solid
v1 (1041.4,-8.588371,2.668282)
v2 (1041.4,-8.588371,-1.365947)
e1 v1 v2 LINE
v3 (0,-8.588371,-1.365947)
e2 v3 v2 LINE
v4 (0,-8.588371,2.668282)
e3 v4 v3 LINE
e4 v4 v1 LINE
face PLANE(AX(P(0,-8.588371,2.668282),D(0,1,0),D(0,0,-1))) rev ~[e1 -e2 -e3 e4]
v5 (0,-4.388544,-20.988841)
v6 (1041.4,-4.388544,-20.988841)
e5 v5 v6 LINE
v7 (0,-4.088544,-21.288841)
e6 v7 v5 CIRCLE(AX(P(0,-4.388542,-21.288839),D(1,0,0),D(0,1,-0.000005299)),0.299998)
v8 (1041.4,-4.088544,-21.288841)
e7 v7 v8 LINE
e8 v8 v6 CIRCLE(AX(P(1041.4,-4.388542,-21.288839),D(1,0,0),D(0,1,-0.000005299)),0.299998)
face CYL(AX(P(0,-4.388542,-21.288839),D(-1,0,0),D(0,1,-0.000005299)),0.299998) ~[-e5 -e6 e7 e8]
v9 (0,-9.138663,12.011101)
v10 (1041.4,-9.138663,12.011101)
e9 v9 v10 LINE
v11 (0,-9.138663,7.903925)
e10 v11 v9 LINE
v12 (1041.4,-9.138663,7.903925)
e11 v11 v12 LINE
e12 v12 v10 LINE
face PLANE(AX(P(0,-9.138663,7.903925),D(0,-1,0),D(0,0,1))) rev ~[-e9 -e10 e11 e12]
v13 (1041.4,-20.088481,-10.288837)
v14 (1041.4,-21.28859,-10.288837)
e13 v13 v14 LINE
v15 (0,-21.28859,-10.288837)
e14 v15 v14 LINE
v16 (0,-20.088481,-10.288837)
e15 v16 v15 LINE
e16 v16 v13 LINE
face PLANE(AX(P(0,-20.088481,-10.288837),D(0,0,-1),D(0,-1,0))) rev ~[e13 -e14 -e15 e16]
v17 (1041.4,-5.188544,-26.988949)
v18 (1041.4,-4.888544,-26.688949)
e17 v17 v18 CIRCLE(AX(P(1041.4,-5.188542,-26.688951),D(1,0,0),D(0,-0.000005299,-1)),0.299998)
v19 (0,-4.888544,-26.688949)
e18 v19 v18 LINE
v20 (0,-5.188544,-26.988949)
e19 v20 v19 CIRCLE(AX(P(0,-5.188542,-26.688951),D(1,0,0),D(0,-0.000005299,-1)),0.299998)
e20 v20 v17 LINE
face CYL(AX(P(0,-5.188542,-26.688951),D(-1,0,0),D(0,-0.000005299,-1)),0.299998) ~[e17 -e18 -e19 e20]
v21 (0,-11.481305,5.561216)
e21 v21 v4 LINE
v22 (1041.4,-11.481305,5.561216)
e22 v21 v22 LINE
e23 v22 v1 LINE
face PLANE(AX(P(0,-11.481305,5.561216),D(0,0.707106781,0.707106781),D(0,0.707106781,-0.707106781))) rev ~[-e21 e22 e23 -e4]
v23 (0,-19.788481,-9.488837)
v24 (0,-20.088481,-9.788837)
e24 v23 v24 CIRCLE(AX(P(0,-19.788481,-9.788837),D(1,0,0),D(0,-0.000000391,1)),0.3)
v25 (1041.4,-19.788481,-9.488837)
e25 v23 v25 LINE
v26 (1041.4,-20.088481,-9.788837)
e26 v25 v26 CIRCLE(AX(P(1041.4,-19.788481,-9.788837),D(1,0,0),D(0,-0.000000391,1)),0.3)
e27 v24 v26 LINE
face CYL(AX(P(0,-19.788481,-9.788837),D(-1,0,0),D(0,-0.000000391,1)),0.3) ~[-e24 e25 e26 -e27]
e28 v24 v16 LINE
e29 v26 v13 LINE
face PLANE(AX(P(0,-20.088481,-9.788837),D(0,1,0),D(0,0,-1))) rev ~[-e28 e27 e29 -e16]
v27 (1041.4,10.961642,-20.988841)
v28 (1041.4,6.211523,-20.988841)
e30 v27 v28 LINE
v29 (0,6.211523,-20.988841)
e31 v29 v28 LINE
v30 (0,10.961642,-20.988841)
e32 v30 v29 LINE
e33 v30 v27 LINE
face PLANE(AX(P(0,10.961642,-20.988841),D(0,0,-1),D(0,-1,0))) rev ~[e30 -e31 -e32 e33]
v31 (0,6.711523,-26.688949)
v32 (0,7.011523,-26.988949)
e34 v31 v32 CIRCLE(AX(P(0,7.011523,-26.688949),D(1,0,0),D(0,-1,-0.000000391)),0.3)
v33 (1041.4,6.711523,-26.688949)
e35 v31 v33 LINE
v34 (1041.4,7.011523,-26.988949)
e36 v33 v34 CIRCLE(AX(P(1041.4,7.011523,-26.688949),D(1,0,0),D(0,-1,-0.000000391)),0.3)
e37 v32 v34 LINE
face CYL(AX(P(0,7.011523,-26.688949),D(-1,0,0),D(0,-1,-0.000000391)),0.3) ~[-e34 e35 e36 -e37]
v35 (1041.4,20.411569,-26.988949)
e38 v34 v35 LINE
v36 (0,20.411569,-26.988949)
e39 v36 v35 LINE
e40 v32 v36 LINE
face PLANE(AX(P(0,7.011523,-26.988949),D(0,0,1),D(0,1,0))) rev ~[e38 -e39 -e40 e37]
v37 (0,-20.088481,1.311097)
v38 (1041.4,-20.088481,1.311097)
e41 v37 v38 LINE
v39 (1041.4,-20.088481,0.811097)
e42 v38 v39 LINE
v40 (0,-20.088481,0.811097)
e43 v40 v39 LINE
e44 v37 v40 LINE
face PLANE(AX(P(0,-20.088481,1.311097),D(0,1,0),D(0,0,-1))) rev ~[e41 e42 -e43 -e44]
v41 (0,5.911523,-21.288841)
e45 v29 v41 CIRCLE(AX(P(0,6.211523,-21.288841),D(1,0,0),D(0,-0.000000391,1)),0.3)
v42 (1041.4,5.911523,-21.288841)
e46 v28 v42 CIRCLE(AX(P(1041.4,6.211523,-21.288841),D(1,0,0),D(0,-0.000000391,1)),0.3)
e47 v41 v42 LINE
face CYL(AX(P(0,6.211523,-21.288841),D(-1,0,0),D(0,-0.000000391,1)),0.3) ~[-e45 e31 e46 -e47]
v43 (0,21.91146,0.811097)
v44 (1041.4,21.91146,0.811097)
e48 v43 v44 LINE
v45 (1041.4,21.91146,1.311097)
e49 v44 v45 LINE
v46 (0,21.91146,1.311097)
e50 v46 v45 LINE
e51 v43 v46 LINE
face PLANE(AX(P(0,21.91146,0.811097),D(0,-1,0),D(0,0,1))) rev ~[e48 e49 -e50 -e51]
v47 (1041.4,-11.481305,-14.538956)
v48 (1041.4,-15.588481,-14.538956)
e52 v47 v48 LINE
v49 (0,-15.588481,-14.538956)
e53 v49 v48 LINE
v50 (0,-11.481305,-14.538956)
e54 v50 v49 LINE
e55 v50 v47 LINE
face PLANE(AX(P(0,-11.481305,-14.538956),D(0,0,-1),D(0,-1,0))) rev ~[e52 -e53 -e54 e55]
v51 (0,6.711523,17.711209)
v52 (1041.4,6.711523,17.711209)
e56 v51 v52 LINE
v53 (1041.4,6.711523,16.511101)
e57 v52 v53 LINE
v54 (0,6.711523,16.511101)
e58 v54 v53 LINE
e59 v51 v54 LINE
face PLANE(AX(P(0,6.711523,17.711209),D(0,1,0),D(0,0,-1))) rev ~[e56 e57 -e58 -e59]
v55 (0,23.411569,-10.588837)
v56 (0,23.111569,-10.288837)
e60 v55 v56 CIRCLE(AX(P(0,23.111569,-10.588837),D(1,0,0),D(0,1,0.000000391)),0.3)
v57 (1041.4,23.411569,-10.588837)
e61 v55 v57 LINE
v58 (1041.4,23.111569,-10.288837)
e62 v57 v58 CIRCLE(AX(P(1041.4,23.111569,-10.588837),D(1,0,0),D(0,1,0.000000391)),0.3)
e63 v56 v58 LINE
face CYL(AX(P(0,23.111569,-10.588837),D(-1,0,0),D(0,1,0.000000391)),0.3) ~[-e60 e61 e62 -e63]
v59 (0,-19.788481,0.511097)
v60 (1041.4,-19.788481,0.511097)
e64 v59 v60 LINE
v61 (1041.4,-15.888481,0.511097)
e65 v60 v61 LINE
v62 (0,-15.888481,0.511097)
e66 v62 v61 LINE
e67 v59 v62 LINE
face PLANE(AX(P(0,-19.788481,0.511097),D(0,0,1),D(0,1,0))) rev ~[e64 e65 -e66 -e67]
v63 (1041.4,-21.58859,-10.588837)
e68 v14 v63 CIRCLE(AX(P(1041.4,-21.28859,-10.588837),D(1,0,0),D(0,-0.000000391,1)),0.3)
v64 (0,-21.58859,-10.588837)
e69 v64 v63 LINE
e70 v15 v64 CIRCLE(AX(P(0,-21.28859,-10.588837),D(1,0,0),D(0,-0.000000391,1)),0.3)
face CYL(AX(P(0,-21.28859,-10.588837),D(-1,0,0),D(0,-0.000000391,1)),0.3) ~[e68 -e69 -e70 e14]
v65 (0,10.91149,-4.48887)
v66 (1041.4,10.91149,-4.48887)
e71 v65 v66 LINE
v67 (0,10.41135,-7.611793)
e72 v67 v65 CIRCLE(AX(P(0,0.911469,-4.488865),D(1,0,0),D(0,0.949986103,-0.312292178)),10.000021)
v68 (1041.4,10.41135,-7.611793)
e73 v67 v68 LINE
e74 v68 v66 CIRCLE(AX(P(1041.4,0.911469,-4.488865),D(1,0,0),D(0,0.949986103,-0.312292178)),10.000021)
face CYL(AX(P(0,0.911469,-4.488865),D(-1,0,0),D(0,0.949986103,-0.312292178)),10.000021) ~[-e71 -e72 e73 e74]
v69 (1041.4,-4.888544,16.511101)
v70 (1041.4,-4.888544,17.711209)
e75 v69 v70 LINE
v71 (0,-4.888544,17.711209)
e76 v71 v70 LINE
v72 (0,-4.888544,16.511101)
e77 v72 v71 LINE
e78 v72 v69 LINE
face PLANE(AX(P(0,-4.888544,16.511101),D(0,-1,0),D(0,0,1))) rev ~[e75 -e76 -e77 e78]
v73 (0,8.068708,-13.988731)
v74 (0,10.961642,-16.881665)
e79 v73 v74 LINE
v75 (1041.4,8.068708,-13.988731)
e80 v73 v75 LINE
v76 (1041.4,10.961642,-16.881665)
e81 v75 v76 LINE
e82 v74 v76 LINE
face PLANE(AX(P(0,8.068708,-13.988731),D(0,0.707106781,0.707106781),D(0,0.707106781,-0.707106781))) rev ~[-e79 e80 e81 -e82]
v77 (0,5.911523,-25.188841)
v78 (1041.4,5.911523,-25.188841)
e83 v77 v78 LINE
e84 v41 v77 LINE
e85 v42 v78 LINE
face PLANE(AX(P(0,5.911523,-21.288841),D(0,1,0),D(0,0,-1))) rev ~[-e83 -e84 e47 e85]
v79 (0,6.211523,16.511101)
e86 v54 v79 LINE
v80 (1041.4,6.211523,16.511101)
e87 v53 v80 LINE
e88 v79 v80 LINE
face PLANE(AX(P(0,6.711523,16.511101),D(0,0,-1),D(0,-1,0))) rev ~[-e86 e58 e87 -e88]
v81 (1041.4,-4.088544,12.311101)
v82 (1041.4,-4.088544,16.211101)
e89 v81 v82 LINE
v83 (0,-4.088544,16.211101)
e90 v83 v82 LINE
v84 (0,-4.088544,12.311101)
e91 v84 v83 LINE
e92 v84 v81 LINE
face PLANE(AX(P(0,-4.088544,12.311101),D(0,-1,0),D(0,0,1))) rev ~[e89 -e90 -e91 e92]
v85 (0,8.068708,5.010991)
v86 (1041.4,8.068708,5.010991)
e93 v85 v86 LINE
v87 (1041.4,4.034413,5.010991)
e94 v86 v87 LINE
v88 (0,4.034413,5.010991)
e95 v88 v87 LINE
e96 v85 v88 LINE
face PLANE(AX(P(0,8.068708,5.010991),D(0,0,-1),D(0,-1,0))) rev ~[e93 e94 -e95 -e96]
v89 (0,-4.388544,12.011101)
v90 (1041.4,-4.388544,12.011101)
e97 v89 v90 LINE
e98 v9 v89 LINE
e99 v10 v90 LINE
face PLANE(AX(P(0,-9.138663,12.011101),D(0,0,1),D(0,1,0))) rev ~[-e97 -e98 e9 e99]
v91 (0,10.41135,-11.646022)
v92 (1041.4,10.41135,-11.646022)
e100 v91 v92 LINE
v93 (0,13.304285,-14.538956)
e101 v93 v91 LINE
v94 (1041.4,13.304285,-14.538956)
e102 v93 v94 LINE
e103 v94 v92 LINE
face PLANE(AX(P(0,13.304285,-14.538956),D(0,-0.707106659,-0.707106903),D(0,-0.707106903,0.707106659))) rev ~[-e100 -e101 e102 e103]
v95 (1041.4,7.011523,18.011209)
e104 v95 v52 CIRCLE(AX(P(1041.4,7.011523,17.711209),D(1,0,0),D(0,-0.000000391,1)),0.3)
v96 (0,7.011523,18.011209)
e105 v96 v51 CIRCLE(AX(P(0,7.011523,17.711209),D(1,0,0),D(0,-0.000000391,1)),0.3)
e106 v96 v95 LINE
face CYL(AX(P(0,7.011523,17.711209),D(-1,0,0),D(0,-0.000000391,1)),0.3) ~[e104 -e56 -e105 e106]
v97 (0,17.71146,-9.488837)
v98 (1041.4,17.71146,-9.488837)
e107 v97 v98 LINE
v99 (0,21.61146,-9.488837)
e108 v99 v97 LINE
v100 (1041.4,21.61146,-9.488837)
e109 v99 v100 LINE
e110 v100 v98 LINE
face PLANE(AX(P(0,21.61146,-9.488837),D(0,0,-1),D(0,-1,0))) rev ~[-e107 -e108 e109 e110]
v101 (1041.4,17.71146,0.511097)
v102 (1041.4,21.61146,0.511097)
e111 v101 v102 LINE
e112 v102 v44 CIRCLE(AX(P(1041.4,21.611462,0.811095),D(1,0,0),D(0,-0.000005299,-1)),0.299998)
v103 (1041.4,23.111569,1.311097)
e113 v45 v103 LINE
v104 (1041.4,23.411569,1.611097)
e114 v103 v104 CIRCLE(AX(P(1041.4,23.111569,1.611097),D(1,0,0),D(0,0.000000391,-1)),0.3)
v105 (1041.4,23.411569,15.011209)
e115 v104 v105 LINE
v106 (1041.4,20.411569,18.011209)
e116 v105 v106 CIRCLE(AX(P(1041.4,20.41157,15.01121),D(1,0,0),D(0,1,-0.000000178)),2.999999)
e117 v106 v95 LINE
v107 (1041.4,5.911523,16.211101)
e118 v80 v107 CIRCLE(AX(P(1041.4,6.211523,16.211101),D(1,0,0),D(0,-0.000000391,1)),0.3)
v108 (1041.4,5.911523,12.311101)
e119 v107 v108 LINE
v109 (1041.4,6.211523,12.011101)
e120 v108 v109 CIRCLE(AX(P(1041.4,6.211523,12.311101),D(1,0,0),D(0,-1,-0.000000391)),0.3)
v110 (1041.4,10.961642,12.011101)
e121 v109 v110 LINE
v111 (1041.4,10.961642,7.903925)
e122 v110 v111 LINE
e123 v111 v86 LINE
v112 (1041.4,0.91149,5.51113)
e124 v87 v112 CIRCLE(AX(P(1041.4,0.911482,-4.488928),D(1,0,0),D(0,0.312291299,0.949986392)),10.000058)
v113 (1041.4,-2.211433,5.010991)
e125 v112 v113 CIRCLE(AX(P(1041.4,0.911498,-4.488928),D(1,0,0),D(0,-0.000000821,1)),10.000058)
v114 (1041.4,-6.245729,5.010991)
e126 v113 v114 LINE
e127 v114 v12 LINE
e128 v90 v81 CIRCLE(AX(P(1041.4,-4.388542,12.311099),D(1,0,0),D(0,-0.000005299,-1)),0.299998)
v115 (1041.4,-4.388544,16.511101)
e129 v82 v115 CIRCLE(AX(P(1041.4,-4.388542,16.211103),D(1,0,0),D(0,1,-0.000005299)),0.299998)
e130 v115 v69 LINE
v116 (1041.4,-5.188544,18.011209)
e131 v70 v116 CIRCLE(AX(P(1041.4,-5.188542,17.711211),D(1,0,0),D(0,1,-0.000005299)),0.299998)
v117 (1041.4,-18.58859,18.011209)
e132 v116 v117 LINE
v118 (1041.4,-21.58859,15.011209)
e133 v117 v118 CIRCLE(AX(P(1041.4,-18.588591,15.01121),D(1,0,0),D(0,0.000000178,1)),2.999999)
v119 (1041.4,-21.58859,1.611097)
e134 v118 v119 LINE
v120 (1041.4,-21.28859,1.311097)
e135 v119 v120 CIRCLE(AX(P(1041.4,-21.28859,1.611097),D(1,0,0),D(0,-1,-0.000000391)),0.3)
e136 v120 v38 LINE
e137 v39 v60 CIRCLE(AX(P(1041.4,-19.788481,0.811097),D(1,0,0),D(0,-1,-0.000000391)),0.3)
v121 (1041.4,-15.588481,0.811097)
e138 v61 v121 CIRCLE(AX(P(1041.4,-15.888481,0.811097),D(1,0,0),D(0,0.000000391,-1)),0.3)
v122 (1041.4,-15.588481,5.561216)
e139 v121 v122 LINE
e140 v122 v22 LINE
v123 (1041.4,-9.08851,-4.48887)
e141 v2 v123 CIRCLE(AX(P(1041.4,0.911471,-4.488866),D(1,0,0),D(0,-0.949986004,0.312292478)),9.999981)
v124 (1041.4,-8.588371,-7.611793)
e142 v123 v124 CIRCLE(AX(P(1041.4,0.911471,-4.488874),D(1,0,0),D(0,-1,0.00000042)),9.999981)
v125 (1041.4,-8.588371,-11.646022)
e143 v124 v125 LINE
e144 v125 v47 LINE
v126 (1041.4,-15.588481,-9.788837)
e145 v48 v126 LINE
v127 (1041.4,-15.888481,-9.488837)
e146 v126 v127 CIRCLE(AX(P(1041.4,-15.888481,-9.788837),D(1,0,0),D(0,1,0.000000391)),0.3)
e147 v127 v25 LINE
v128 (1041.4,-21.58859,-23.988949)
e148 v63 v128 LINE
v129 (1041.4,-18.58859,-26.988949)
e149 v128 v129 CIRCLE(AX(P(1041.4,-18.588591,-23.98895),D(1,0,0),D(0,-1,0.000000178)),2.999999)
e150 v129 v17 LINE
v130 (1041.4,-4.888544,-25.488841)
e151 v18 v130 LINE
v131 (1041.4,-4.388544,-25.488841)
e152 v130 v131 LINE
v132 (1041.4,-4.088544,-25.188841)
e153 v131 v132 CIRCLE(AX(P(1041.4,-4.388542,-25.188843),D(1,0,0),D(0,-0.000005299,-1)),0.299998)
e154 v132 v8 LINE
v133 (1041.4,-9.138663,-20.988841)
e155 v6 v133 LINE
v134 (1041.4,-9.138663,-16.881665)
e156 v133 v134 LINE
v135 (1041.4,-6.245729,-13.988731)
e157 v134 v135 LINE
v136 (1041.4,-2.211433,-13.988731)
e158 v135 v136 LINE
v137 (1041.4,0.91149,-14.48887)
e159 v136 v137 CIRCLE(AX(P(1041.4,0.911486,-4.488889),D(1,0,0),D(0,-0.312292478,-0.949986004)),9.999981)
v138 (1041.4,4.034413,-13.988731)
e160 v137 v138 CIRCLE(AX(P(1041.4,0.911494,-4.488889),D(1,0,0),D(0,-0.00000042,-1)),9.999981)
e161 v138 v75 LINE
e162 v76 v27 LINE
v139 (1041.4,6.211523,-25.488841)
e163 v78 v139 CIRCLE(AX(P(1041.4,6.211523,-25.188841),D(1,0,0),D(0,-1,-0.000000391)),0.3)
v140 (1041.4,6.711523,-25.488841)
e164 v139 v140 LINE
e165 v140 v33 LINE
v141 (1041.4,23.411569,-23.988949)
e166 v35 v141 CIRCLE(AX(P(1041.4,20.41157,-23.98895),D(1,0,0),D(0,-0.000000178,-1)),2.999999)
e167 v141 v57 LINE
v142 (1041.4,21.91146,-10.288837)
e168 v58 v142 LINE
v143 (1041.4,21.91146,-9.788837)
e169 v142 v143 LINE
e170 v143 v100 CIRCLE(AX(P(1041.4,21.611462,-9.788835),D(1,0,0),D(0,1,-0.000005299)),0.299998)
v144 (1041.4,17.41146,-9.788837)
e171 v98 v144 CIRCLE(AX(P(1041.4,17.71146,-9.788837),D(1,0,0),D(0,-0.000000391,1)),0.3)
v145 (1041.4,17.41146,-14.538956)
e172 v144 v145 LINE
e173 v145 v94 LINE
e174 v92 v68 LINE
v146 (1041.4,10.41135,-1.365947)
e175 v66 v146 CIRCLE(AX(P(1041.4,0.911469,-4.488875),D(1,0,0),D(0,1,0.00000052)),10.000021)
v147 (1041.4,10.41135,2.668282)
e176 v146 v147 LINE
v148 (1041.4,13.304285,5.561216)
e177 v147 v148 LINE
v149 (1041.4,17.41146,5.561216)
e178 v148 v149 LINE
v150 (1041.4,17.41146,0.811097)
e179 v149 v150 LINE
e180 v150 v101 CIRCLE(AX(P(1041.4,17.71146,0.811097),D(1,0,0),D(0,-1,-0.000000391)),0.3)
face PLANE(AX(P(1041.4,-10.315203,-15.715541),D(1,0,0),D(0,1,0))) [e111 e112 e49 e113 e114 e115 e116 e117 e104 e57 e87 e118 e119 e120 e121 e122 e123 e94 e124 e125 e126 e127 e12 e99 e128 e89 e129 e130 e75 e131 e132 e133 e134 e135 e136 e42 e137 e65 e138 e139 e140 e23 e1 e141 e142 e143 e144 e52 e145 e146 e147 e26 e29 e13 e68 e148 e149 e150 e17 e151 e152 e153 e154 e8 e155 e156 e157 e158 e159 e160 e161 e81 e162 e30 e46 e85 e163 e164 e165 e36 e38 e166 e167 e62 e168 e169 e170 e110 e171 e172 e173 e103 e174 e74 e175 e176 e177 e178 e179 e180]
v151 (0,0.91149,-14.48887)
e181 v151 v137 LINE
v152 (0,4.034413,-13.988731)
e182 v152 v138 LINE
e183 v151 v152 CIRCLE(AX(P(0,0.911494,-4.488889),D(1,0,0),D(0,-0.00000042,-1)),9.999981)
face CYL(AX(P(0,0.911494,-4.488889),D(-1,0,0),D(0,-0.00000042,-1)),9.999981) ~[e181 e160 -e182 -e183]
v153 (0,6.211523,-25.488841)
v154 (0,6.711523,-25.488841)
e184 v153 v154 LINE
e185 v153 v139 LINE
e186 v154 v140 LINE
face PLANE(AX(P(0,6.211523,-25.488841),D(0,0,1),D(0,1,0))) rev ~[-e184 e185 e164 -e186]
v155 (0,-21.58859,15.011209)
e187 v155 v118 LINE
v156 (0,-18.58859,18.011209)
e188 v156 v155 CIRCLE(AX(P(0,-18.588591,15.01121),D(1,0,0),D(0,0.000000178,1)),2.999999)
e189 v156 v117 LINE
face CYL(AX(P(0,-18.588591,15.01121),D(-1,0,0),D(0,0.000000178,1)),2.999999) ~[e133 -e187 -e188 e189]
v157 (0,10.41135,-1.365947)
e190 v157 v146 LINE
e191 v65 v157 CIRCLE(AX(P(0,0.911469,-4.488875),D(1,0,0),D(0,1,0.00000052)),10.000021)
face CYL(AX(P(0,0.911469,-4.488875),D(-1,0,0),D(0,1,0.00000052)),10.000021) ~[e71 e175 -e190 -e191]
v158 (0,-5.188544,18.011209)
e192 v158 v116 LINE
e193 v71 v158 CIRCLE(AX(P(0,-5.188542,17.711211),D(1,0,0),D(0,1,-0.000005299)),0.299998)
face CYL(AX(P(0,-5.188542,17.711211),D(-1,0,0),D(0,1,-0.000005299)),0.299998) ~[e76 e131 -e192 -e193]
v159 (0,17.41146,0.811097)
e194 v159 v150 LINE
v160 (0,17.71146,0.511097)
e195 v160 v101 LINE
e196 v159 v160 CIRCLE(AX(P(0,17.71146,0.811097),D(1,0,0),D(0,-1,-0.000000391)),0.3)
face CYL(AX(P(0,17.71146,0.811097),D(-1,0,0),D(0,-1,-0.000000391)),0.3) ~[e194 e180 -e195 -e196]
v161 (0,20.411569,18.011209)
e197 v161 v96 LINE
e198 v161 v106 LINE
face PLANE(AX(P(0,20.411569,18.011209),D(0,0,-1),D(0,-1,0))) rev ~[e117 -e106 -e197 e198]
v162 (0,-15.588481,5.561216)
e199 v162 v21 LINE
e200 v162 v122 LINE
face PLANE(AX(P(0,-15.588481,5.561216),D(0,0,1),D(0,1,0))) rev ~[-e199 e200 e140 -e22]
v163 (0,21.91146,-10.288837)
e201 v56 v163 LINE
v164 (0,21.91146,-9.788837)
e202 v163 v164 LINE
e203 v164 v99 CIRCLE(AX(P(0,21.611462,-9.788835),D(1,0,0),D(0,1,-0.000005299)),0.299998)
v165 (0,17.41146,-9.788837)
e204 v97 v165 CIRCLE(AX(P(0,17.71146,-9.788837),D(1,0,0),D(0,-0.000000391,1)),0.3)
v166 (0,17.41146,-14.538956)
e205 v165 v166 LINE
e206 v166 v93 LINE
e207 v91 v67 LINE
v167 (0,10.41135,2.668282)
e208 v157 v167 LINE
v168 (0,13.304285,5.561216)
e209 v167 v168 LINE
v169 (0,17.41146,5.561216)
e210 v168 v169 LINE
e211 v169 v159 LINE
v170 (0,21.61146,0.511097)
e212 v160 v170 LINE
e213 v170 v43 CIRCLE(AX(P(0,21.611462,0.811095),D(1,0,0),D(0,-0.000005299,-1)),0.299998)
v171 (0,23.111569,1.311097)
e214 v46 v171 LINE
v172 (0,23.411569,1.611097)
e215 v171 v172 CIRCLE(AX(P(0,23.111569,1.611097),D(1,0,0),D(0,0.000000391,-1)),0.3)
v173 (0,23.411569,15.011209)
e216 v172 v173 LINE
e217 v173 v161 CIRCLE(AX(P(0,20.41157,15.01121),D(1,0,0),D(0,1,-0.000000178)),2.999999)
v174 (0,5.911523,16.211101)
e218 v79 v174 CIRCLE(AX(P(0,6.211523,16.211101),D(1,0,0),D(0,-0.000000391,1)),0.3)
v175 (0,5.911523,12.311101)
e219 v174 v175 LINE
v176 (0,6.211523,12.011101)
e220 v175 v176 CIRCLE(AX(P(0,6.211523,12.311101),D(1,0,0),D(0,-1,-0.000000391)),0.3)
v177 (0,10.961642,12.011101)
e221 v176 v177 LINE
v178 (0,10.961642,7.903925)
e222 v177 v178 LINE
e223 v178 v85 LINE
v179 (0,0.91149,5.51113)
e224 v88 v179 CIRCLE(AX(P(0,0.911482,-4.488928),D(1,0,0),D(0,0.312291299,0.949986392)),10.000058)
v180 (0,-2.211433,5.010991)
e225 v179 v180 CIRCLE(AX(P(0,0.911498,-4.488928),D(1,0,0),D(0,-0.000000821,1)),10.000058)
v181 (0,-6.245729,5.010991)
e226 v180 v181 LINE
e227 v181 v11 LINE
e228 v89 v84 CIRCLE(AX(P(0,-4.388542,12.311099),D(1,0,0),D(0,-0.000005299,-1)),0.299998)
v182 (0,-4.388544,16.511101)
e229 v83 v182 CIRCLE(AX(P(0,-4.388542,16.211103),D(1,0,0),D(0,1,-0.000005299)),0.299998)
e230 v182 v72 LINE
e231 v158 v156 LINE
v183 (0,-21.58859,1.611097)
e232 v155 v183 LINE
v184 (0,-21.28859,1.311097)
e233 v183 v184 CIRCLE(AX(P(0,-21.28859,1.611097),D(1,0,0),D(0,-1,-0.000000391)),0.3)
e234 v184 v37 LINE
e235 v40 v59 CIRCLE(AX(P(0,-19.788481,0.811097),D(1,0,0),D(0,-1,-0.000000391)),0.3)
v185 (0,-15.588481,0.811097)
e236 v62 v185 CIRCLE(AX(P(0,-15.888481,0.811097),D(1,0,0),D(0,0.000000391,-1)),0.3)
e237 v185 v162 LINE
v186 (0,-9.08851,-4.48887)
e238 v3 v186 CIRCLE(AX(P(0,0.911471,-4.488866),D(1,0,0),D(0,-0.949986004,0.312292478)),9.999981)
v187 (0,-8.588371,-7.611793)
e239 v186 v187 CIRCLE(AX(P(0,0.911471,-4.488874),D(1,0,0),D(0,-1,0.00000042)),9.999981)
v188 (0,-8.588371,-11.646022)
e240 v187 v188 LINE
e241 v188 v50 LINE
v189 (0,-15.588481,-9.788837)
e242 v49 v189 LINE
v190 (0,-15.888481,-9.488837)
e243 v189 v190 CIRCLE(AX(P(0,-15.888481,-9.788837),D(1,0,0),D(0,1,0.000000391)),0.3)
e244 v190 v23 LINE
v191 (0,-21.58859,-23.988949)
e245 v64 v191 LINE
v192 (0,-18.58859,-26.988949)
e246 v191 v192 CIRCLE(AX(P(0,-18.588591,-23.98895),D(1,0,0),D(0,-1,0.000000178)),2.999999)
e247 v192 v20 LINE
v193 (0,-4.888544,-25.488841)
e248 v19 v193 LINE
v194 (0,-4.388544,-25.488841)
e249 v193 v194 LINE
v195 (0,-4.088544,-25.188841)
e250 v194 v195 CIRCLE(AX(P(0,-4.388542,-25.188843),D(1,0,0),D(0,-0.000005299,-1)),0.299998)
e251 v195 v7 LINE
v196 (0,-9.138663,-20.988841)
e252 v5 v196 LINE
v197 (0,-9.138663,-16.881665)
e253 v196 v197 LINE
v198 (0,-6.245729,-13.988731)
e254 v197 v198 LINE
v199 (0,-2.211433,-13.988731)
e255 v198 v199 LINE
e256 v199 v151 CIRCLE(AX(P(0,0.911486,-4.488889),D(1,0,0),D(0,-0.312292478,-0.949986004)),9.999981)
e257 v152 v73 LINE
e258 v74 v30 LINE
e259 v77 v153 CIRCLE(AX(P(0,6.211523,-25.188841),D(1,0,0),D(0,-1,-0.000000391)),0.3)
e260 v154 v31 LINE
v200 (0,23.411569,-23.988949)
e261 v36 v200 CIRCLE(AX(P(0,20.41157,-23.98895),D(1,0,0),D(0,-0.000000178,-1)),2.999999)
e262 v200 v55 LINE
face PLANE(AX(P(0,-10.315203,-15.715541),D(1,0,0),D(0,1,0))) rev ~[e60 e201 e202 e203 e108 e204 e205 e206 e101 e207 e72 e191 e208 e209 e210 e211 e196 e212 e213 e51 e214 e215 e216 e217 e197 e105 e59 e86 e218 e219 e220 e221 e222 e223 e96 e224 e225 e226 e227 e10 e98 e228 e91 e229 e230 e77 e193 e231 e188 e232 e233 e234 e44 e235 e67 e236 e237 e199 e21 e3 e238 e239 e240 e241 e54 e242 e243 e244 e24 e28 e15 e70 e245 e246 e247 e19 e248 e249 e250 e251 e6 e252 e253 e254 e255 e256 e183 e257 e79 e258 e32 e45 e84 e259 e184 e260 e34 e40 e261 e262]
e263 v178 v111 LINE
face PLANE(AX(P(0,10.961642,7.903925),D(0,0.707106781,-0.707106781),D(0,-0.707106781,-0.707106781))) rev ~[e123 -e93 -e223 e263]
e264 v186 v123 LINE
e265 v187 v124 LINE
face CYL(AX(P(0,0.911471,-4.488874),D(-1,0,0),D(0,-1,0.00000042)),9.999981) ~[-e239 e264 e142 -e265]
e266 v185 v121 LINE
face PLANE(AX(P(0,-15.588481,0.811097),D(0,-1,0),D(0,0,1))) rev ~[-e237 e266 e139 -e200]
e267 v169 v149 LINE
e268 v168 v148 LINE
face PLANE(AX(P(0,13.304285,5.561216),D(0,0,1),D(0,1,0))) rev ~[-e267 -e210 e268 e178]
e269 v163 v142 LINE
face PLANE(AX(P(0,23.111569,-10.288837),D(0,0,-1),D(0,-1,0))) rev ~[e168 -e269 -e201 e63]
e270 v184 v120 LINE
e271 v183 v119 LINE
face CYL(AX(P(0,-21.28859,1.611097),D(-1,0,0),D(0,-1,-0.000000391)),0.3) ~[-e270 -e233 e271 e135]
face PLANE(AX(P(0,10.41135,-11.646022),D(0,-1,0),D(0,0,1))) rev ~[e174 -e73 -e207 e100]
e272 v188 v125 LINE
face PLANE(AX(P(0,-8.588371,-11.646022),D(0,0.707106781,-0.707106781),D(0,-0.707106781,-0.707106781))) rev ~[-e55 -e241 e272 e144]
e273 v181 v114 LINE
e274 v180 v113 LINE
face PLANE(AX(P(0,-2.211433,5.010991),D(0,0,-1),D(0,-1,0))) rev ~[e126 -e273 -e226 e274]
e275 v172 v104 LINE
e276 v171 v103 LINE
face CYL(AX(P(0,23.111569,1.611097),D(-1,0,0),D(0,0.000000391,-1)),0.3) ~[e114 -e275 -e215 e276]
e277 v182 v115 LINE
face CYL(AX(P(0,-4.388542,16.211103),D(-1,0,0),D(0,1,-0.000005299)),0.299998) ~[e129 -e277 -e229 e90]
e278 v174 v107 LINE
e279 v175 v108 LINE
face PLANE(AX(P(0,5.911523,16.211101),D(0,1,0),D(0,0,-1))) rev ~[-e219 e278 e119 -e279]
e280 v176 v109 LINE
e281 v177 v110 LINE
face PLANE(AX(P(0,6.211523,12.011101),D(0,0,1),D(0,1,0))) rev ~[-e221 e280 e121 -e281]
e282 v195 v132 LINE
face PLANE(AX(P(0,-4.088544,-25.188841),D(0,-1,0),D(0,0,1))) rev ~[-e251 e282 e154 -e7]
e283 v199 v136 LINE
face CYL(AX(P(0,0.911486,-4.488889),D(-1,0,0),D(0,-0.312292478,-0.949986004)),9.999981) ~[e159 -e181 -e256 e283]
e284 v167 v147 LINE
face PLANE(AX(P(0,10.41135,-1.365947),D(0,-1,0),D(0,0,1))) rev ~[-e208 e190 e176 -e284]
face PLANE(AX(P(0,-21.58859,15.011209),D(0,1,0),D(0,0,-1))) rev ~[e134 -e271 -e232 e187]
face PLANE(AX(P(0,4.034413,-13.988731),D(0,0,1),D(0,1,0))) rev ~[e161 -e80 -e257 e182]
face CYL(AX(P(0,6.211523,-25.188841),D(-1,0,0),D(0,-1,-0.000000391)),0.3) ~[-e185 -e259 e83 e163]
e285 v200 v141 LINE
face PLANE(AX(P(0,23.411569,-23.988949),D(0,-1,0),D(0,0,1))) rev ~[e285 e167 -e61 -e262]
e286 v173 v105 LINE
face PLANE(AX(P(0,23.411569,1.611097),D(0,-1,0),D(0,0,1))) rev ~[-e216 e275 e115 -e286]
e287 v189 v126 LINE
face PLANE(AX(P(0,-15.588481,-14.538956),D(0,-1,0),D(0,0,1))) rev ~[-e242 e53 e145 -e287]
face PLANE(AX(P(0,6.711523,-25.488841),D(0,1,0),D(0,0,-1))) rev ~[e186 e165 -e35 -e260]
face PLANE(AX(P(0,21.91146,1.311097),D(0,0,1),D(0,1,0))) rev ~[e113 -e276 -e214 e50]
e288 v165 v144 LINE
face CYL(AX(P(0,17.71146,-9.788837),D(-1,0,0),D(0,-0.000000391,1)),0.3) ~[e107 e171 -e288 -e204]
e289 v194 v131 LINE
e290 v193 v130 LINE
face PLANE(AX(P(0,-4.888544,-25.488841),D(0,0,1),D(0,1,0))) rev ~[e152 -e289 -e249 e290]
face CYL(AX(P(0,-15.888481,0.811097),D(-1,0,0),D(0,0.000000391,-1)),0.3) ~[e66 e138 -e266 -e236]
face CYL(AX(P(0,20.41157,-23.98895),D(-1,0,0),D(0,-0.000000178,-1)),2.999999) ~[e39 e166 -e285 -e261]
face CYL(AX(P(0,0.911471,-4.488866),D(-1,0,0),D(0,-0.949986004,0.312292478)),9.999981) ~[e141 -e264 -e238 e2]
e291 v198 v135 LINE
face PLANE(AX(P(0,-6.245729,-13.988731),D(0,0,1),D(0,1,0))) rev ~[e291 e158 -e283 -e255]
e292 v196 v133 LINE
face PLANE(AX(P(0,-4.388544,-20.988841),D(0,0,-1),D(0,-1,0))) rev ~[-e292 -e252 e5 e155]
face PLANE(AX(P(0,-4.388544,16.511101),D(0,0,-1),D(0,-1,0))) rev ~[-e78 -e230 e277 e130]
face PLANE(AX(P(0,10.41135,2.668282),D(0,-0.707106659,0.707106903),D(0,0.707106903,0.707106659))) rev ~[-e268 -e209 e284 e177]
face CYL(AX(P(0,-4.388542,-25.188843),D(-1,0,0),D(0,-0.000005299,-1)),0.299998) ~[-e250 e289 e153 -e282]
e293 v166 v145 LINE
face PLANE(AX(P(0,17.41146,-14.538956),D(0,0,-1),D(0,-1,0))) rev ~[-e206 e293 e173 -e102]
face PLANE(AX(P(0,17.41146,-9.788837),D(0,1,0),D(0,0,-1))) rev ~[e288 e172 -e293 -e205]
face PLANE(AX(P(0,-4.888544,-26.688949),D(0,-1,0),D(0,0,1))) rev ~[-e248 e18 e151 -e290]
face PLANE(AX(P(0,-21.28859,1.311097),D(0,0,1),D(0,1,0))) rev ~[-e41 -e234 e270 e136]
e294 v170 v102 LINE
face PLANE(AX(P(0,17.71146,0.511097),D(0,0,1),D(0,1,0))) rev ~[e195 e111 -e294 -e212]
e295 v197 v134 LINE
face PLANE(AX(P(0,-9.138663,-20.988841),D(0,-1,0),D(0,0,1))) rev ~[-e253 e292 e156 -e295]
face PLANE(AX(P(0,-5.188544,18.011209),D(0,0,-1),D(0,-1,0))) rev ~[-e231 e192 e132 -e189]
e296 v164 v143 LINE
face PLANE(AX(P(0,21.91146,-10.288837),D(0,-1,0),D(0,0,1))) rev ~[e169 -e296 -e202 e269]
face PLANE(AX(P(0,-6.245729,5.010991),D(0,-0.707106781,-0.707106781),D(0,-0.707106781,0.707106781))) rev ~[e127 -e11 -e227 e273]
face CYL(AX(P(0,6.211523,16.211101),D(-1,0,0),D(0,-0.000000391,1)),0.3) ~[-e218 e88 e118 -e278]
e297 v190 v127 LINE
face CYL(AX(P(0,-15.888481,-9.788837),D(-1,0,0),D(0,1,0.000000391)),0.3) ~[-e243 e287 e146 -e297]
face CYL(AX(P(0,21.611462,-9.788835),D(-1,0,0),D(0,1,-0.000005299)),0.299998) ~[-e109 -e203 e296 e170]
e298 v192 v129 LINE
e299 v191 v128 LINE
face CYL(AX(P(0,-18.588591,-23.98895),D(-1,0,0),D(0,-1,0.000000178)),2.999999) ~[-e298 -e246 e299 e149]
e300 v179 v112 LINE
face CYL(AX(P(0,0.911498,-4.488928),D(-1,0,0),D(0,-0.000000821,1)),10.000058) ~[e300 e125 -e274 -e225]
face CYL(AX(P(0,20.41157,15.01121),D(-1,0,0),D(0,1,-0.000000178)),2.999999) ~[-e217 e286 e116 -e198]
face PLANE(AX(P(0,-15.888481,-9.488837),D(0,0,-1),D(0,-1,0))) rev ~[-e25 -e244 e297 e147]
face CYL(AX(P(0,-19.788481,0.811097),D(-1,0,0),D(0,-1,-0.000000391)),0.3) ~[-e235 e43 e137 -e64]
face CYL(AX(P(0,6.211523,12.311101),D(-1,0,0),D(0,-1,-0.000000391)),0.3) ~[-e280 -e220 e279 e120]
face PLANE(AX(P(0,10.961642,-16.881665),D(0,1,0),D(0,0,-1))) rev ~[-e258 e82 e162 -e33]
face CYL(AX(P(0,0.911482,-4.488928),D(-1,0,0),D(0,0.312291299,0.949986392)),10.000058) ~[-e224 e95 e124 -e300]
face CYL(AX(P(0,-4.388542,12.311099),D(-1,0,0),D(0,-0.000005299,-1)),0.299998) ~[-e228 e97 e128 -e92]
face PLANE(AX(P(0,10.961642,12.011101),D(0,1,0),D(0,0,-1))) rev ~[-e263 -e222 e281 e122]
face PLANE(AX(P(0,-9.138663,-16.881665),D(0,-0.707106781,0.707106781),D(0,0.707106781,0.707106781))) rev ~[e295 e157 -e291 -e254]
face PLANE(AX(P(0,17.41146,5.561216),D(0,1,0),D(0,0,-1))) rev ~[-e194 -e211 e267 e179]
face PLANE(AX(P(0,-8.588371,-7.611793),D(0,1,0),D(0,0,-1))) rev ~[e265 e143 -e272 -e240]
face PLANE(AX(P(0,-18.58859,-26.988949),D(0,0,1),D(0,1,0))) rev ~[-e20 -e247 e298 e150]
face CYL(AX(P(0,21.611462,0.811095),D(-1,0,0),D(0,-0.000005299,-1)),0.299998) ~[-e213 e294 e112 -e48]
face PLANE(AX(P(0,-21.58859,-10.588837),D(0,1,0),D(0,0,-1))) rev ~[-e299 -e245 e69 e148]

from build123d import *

# Parameters (mm, degrees)
F1_DEPTH = 1041.4


with BuildPart() as f1:
    # F0 (on Right) → F1 (new body)
    with BuildSketch(Plane.YZ):
        with BuildLine():
            Line((-20.088481, -9.788837), (-20.088481, -10.288837))
            Line((-20.088481, -10.288837), (-21.28859, -10.288837))
            ThreePointArc((-21.28859, -10.288837), (-21.500722, -10.376705), (-21.58859, -10.588837))
            Line((-21.58859, -10.588837), (-21.58859, -23.988949))
            ThreePointArc((-21.58859, -23.988949), (-20.70991, -26.11027), (-18.58859, -26.988949))
            Line((-18.58859, -26.988949), (-5.188544, -26.988949))
            ThreePointArc((-5.188544, -26.988949), (-4.976411, -26.901081), (-4.888544, -26.688949))
            Line((-4.888544, -26.688949), (-4.888544, -25.488841))
            Line((-4.888544, -25.488841), (-4.388544, -25.488841))
            ThreePointArc((-4.388544, -25.488841), (-4.176411, -25.400973), (-4.088544, -25.188841))
            Line((-4.088544, -25.188841), (-4.088544, -21.288841))
            ThreePointArc((-4.088544, -21.288841), (-4.176411, -21.076709), (-4.388544, -20.988841))
            Line((-4.388544, -20.988841), (-9.138663, -20.988841))
            Line((-9.138663, -20.988841), (-9.138663, -16.881665))
            Line((-9.138663, -16.881665), (-6.245729, -13.988731))
            Line((-6.245729, -13.988731), (-2.211433, -13.988731))
            ThreePointArc((-2.211433, -13.988731), (-0.669869, -14.363044), (0.91149, -14.48887))
            Line((0.91149, -14.48887), (0.91149, -4.48887))
            Line((0.91149, -4.48887), (-9.08851, -4.48887))
            ThreePointArc((-9.08851, -4.48887), (-8.962684, -6.070229), (-8.588371, -7.611793))
            Line((-8.588371, -7.611793), (-8.588371, -11.646022))
            Line((-8.588371, -11.646022), (-11.481305, -14.538956))
            Line((-11.481305, -14.538956), (-15.588481, -14.538956))
            Line((-15.588481, -14.538956), (-15.588481, -9.788837))
            ThreePointArc((-15.588481, -9.788837), (-15.676349, -9.576705), (-15.888481, -9.488837))
            Line((-15.888481, -9.488837), (-19.788481, -9.488837))
            ThreePointArc((-19.788481, -9.488837), (-20.000613, -9.576705), (-20.088481, -9.788837))
        make_face()
        with BuildLine():
            ThreePointArc((-8.588371, -1.365947), (-8.962684, -2.907511), (-9.08851, -4.48887))
            Line((-9.08851, -4.48887), (0.91149, -4.48887))
            Line((0.91149, -4.48887), (0.91149, 5.51113))
            ThreePointArc((0.91149, 5.51113), (-0.669869, 5.385303), (-2.211433, 5.010991))
            Line((-2.211433, 5.010991), (-6.245729, 5.010991))
            Line((-6.245729, 5.010991), (-9.138663, 7.903925))
            Line((-9.138663, 7.903925), (-9.138663, 12.011101))
            Line((-9.138663, 12.011101), (-4.388544, 12.011101))
            ThreePointArc((-4.388544, 12.011101), (-4.176411, 12.098969), (-4.088544, 12.311101))
            Line((-4.088544, 12.311101), (-4.088544, 16.211101))
            ThreePointArc((-4.088544, 16.211101), (-4.176411, 16.423233), (-4.388544, 16.511101))
            Line((-4.388544, 16.511101), (-4.888544, 16.511101))
            Line((-4.888544, 16.511101), (-4.888544, 17.711209))
            ThreePointArc((-4.888544, 17.711209), (-4.976411, 17.923341), (-5.188544, 18.011209))
            Line((-5.188544, 18.011209), (-18.58859, 18.011209))
            ThreePointArc((-18.58859, 18.011209), (-20.70991, 17.13253), (-21.58859, 15.011209))
            Line((-21.58859, 15.011209), (-21.58859, 1.611097))
            ThreePointArc((-21.58859, 1.611097), (-21.500722, 1.398965), (-21.28859, 1.311097))
            Line((-21.28859, 1.311097), (-20.088481, 1.311097))
            Line((-20.088481, 1.311097), (-20.088481, 0.811097))
            ThreePointArc((-20.088481, 0.811097), (-20.000613, 0.598965), (-19.788481, 0.511097))
            Line((-19.788481, 0.511097), (-15.888481, 0.511097))
            ThreePointArc((-15.888481, 0.511097), (-15.676349, 0.598965), (-15.588481, 0.811097))
            Line((-15.588481, 0.811097), (-15.588481, 5.561216))
            Line((-15.588481, 5.561216), (-11.481305, 5.561216))
            Line((-11.481305, 5.561216), (-8.588371, 2.668282))
            Line((-8.588371, 2.668282), (-8.588371, -1.365947))
        make_face()
        with BuildLine():
            Line((0.91149, 5.51113), (0.91149, -4.48887))
            Line((0.91149, -4.48887), (10.91149, -4.48887))
            ThreePointArc((10.91149, -4.48887), (10.785663, -2.907511), (10.41135, -1.365947))
            Line((10.41135, -1.365947), (10.41135, 2.668282))
            Line((10.41135, 2.668282), (13.304285, 5.561216))
            Line((13.304285, 5.561216), (14.016842, 5.561216))
            Line((14.016842, 5.561216), (17.41146, 5.561216))
            Line((17.41146, 5.561216), (17.41146, 0.811097))
            ThreePointArc((17.41146, 0.811097), (17.499328, 0.598965), (17.71146, 0.511097))
            Line((17.71146, 0.511097), (21.61146, 0.511097))
            ThreePointArc((21.61146, 0.511097), (21.823593, 0.598965), (21.91146, 0.811097))
            Line((21.91146, 0.811097), (21.91146, 1.311097))
            Line((21.91146, 1.311097), (23.111569, 1.311097))
            ThreePointArc((23.111569, 1.311097), (23.323701, 1.398965), (23.411569, 1.611097))
            Line((23.411569, 1.611097), (23.411569, 15.011209))
            ThreePointArc((23.411569, 15.011209), (22.532889, 17.13253), (20.411569, 18.011209))
            Line((20.411569, 18.011209), (7.011523, 18.011209))
            ThreePointArc((7.011523, 18.011209), (6.799391, 17.923341), (6.711523, 17.711209))
            Line((6.711523, 17.711209), (6.711523, 16.511101))
            Line((6.711523, 16.511101), (6.211523, 16.511101))
            ThreePointArc((6.211523, 16.511101), (5.999391, 16.423233), (5.911523, 16.211101))
            Line((5.911523, 16.211101), (5.911523, 12.311101))
            ThreePointArc((5.911523, 12.311101), (5.999391, 12.098969), (6.211523, 12.011101))
            Line((6.211523, 12.011101), (10.961642, 12.011101))
            Line((10.961642, 12.011101), (10.961642, 7.903925))
            Line((10.961642, 7.903925), (8.068708, 5.010991))
            Line((8.068708, 5.010991), (4.034413, 5.010991))
            ThreePointArc((4.034413, 5.010991), (2.492849, 5.385303), (0.91149, 5.51113))
        make_face()
        with BuildLine():
            Line((10.91149, -4.48887), (0.91149, -4.48887))
            Line((0.91149, -4.48887), (0.91149, -14.48887))
            ThreePointArc((0.91149, -14.48887), (2.492849, -14.363044), (4.034413, -13.988731))
            Line((4.034413, -13.988731), (8.068708, -13.988731))
            Line((8.068708, -13.988731), (10.961642, -16.881665))
            Line((10.961642, -16.881665), (10.961642, -20.988841))
            Line((10.961642, -20.988841), (6.211523, -20.988841))
            ThreePointArc((6.211523, -20.988841), (5.999391, -21.076709), (5.911523, -21.288841))
            Line((5.911523, -21.288841), (5.911523, -25.188841))
            ThreePointArc((5.911523, -25.188841), (5.999391, -25.400973), (6.211523, -25.488841))
            Line((6.211523, -25.488841), (6.711523, -25.488841))
            Line((6.711523, -25.488841), (6.711523, -26.688949))
            ThreePointArc((6.711523, -26.688949), (6.799391, -26.901081), (7.011523, -26.988949))
            Line((7.011523, -26.988949), (20.411569, -26.988949))
            ThreePointArc((20.411569, -26.988949), (22.532889, -26.11027), (23.411569, -23.988949))
            Line((23.411569, -23.988949), (23.411569, -10.588837))
            ThreePointArc((23.411569, -10.588837), (23.323701, -10.376705), (23.111569, -10.288837))
            Line((23.111569, -10.288837), (21.91146, -10.288837))
            Line((21.91146, -10.288837), (21.91146, -9.788837))
            ThreePointArc((21.91146, -9.788837), (21.823593, -9.576705), (21.61146, -9.488837))
            Line((21.61146, -9.488837), (17.71146, -9.488837))
            ThreePointArc((17.71146, -9.488837), (17.499328, -9.576705), (17.41146, -9.788837))
            Line((17.41146, -9.788837), (17.41146, -14.538956))
            Line((17.41146, -14.538956), (13.304285, -14.538956))
            Line((13.304285, -14.538956), (10.41135, -11.646022))
            Line((10.41135, -11.646022), (10.41135, -7.611793))
            ThreePointArc((10.41135, -7.611793), (10.785663, -6.070229), (10.91149, -4.48887))
        make_face()
    extrude(amount=F1_DEPTH)


solid = f1.part
